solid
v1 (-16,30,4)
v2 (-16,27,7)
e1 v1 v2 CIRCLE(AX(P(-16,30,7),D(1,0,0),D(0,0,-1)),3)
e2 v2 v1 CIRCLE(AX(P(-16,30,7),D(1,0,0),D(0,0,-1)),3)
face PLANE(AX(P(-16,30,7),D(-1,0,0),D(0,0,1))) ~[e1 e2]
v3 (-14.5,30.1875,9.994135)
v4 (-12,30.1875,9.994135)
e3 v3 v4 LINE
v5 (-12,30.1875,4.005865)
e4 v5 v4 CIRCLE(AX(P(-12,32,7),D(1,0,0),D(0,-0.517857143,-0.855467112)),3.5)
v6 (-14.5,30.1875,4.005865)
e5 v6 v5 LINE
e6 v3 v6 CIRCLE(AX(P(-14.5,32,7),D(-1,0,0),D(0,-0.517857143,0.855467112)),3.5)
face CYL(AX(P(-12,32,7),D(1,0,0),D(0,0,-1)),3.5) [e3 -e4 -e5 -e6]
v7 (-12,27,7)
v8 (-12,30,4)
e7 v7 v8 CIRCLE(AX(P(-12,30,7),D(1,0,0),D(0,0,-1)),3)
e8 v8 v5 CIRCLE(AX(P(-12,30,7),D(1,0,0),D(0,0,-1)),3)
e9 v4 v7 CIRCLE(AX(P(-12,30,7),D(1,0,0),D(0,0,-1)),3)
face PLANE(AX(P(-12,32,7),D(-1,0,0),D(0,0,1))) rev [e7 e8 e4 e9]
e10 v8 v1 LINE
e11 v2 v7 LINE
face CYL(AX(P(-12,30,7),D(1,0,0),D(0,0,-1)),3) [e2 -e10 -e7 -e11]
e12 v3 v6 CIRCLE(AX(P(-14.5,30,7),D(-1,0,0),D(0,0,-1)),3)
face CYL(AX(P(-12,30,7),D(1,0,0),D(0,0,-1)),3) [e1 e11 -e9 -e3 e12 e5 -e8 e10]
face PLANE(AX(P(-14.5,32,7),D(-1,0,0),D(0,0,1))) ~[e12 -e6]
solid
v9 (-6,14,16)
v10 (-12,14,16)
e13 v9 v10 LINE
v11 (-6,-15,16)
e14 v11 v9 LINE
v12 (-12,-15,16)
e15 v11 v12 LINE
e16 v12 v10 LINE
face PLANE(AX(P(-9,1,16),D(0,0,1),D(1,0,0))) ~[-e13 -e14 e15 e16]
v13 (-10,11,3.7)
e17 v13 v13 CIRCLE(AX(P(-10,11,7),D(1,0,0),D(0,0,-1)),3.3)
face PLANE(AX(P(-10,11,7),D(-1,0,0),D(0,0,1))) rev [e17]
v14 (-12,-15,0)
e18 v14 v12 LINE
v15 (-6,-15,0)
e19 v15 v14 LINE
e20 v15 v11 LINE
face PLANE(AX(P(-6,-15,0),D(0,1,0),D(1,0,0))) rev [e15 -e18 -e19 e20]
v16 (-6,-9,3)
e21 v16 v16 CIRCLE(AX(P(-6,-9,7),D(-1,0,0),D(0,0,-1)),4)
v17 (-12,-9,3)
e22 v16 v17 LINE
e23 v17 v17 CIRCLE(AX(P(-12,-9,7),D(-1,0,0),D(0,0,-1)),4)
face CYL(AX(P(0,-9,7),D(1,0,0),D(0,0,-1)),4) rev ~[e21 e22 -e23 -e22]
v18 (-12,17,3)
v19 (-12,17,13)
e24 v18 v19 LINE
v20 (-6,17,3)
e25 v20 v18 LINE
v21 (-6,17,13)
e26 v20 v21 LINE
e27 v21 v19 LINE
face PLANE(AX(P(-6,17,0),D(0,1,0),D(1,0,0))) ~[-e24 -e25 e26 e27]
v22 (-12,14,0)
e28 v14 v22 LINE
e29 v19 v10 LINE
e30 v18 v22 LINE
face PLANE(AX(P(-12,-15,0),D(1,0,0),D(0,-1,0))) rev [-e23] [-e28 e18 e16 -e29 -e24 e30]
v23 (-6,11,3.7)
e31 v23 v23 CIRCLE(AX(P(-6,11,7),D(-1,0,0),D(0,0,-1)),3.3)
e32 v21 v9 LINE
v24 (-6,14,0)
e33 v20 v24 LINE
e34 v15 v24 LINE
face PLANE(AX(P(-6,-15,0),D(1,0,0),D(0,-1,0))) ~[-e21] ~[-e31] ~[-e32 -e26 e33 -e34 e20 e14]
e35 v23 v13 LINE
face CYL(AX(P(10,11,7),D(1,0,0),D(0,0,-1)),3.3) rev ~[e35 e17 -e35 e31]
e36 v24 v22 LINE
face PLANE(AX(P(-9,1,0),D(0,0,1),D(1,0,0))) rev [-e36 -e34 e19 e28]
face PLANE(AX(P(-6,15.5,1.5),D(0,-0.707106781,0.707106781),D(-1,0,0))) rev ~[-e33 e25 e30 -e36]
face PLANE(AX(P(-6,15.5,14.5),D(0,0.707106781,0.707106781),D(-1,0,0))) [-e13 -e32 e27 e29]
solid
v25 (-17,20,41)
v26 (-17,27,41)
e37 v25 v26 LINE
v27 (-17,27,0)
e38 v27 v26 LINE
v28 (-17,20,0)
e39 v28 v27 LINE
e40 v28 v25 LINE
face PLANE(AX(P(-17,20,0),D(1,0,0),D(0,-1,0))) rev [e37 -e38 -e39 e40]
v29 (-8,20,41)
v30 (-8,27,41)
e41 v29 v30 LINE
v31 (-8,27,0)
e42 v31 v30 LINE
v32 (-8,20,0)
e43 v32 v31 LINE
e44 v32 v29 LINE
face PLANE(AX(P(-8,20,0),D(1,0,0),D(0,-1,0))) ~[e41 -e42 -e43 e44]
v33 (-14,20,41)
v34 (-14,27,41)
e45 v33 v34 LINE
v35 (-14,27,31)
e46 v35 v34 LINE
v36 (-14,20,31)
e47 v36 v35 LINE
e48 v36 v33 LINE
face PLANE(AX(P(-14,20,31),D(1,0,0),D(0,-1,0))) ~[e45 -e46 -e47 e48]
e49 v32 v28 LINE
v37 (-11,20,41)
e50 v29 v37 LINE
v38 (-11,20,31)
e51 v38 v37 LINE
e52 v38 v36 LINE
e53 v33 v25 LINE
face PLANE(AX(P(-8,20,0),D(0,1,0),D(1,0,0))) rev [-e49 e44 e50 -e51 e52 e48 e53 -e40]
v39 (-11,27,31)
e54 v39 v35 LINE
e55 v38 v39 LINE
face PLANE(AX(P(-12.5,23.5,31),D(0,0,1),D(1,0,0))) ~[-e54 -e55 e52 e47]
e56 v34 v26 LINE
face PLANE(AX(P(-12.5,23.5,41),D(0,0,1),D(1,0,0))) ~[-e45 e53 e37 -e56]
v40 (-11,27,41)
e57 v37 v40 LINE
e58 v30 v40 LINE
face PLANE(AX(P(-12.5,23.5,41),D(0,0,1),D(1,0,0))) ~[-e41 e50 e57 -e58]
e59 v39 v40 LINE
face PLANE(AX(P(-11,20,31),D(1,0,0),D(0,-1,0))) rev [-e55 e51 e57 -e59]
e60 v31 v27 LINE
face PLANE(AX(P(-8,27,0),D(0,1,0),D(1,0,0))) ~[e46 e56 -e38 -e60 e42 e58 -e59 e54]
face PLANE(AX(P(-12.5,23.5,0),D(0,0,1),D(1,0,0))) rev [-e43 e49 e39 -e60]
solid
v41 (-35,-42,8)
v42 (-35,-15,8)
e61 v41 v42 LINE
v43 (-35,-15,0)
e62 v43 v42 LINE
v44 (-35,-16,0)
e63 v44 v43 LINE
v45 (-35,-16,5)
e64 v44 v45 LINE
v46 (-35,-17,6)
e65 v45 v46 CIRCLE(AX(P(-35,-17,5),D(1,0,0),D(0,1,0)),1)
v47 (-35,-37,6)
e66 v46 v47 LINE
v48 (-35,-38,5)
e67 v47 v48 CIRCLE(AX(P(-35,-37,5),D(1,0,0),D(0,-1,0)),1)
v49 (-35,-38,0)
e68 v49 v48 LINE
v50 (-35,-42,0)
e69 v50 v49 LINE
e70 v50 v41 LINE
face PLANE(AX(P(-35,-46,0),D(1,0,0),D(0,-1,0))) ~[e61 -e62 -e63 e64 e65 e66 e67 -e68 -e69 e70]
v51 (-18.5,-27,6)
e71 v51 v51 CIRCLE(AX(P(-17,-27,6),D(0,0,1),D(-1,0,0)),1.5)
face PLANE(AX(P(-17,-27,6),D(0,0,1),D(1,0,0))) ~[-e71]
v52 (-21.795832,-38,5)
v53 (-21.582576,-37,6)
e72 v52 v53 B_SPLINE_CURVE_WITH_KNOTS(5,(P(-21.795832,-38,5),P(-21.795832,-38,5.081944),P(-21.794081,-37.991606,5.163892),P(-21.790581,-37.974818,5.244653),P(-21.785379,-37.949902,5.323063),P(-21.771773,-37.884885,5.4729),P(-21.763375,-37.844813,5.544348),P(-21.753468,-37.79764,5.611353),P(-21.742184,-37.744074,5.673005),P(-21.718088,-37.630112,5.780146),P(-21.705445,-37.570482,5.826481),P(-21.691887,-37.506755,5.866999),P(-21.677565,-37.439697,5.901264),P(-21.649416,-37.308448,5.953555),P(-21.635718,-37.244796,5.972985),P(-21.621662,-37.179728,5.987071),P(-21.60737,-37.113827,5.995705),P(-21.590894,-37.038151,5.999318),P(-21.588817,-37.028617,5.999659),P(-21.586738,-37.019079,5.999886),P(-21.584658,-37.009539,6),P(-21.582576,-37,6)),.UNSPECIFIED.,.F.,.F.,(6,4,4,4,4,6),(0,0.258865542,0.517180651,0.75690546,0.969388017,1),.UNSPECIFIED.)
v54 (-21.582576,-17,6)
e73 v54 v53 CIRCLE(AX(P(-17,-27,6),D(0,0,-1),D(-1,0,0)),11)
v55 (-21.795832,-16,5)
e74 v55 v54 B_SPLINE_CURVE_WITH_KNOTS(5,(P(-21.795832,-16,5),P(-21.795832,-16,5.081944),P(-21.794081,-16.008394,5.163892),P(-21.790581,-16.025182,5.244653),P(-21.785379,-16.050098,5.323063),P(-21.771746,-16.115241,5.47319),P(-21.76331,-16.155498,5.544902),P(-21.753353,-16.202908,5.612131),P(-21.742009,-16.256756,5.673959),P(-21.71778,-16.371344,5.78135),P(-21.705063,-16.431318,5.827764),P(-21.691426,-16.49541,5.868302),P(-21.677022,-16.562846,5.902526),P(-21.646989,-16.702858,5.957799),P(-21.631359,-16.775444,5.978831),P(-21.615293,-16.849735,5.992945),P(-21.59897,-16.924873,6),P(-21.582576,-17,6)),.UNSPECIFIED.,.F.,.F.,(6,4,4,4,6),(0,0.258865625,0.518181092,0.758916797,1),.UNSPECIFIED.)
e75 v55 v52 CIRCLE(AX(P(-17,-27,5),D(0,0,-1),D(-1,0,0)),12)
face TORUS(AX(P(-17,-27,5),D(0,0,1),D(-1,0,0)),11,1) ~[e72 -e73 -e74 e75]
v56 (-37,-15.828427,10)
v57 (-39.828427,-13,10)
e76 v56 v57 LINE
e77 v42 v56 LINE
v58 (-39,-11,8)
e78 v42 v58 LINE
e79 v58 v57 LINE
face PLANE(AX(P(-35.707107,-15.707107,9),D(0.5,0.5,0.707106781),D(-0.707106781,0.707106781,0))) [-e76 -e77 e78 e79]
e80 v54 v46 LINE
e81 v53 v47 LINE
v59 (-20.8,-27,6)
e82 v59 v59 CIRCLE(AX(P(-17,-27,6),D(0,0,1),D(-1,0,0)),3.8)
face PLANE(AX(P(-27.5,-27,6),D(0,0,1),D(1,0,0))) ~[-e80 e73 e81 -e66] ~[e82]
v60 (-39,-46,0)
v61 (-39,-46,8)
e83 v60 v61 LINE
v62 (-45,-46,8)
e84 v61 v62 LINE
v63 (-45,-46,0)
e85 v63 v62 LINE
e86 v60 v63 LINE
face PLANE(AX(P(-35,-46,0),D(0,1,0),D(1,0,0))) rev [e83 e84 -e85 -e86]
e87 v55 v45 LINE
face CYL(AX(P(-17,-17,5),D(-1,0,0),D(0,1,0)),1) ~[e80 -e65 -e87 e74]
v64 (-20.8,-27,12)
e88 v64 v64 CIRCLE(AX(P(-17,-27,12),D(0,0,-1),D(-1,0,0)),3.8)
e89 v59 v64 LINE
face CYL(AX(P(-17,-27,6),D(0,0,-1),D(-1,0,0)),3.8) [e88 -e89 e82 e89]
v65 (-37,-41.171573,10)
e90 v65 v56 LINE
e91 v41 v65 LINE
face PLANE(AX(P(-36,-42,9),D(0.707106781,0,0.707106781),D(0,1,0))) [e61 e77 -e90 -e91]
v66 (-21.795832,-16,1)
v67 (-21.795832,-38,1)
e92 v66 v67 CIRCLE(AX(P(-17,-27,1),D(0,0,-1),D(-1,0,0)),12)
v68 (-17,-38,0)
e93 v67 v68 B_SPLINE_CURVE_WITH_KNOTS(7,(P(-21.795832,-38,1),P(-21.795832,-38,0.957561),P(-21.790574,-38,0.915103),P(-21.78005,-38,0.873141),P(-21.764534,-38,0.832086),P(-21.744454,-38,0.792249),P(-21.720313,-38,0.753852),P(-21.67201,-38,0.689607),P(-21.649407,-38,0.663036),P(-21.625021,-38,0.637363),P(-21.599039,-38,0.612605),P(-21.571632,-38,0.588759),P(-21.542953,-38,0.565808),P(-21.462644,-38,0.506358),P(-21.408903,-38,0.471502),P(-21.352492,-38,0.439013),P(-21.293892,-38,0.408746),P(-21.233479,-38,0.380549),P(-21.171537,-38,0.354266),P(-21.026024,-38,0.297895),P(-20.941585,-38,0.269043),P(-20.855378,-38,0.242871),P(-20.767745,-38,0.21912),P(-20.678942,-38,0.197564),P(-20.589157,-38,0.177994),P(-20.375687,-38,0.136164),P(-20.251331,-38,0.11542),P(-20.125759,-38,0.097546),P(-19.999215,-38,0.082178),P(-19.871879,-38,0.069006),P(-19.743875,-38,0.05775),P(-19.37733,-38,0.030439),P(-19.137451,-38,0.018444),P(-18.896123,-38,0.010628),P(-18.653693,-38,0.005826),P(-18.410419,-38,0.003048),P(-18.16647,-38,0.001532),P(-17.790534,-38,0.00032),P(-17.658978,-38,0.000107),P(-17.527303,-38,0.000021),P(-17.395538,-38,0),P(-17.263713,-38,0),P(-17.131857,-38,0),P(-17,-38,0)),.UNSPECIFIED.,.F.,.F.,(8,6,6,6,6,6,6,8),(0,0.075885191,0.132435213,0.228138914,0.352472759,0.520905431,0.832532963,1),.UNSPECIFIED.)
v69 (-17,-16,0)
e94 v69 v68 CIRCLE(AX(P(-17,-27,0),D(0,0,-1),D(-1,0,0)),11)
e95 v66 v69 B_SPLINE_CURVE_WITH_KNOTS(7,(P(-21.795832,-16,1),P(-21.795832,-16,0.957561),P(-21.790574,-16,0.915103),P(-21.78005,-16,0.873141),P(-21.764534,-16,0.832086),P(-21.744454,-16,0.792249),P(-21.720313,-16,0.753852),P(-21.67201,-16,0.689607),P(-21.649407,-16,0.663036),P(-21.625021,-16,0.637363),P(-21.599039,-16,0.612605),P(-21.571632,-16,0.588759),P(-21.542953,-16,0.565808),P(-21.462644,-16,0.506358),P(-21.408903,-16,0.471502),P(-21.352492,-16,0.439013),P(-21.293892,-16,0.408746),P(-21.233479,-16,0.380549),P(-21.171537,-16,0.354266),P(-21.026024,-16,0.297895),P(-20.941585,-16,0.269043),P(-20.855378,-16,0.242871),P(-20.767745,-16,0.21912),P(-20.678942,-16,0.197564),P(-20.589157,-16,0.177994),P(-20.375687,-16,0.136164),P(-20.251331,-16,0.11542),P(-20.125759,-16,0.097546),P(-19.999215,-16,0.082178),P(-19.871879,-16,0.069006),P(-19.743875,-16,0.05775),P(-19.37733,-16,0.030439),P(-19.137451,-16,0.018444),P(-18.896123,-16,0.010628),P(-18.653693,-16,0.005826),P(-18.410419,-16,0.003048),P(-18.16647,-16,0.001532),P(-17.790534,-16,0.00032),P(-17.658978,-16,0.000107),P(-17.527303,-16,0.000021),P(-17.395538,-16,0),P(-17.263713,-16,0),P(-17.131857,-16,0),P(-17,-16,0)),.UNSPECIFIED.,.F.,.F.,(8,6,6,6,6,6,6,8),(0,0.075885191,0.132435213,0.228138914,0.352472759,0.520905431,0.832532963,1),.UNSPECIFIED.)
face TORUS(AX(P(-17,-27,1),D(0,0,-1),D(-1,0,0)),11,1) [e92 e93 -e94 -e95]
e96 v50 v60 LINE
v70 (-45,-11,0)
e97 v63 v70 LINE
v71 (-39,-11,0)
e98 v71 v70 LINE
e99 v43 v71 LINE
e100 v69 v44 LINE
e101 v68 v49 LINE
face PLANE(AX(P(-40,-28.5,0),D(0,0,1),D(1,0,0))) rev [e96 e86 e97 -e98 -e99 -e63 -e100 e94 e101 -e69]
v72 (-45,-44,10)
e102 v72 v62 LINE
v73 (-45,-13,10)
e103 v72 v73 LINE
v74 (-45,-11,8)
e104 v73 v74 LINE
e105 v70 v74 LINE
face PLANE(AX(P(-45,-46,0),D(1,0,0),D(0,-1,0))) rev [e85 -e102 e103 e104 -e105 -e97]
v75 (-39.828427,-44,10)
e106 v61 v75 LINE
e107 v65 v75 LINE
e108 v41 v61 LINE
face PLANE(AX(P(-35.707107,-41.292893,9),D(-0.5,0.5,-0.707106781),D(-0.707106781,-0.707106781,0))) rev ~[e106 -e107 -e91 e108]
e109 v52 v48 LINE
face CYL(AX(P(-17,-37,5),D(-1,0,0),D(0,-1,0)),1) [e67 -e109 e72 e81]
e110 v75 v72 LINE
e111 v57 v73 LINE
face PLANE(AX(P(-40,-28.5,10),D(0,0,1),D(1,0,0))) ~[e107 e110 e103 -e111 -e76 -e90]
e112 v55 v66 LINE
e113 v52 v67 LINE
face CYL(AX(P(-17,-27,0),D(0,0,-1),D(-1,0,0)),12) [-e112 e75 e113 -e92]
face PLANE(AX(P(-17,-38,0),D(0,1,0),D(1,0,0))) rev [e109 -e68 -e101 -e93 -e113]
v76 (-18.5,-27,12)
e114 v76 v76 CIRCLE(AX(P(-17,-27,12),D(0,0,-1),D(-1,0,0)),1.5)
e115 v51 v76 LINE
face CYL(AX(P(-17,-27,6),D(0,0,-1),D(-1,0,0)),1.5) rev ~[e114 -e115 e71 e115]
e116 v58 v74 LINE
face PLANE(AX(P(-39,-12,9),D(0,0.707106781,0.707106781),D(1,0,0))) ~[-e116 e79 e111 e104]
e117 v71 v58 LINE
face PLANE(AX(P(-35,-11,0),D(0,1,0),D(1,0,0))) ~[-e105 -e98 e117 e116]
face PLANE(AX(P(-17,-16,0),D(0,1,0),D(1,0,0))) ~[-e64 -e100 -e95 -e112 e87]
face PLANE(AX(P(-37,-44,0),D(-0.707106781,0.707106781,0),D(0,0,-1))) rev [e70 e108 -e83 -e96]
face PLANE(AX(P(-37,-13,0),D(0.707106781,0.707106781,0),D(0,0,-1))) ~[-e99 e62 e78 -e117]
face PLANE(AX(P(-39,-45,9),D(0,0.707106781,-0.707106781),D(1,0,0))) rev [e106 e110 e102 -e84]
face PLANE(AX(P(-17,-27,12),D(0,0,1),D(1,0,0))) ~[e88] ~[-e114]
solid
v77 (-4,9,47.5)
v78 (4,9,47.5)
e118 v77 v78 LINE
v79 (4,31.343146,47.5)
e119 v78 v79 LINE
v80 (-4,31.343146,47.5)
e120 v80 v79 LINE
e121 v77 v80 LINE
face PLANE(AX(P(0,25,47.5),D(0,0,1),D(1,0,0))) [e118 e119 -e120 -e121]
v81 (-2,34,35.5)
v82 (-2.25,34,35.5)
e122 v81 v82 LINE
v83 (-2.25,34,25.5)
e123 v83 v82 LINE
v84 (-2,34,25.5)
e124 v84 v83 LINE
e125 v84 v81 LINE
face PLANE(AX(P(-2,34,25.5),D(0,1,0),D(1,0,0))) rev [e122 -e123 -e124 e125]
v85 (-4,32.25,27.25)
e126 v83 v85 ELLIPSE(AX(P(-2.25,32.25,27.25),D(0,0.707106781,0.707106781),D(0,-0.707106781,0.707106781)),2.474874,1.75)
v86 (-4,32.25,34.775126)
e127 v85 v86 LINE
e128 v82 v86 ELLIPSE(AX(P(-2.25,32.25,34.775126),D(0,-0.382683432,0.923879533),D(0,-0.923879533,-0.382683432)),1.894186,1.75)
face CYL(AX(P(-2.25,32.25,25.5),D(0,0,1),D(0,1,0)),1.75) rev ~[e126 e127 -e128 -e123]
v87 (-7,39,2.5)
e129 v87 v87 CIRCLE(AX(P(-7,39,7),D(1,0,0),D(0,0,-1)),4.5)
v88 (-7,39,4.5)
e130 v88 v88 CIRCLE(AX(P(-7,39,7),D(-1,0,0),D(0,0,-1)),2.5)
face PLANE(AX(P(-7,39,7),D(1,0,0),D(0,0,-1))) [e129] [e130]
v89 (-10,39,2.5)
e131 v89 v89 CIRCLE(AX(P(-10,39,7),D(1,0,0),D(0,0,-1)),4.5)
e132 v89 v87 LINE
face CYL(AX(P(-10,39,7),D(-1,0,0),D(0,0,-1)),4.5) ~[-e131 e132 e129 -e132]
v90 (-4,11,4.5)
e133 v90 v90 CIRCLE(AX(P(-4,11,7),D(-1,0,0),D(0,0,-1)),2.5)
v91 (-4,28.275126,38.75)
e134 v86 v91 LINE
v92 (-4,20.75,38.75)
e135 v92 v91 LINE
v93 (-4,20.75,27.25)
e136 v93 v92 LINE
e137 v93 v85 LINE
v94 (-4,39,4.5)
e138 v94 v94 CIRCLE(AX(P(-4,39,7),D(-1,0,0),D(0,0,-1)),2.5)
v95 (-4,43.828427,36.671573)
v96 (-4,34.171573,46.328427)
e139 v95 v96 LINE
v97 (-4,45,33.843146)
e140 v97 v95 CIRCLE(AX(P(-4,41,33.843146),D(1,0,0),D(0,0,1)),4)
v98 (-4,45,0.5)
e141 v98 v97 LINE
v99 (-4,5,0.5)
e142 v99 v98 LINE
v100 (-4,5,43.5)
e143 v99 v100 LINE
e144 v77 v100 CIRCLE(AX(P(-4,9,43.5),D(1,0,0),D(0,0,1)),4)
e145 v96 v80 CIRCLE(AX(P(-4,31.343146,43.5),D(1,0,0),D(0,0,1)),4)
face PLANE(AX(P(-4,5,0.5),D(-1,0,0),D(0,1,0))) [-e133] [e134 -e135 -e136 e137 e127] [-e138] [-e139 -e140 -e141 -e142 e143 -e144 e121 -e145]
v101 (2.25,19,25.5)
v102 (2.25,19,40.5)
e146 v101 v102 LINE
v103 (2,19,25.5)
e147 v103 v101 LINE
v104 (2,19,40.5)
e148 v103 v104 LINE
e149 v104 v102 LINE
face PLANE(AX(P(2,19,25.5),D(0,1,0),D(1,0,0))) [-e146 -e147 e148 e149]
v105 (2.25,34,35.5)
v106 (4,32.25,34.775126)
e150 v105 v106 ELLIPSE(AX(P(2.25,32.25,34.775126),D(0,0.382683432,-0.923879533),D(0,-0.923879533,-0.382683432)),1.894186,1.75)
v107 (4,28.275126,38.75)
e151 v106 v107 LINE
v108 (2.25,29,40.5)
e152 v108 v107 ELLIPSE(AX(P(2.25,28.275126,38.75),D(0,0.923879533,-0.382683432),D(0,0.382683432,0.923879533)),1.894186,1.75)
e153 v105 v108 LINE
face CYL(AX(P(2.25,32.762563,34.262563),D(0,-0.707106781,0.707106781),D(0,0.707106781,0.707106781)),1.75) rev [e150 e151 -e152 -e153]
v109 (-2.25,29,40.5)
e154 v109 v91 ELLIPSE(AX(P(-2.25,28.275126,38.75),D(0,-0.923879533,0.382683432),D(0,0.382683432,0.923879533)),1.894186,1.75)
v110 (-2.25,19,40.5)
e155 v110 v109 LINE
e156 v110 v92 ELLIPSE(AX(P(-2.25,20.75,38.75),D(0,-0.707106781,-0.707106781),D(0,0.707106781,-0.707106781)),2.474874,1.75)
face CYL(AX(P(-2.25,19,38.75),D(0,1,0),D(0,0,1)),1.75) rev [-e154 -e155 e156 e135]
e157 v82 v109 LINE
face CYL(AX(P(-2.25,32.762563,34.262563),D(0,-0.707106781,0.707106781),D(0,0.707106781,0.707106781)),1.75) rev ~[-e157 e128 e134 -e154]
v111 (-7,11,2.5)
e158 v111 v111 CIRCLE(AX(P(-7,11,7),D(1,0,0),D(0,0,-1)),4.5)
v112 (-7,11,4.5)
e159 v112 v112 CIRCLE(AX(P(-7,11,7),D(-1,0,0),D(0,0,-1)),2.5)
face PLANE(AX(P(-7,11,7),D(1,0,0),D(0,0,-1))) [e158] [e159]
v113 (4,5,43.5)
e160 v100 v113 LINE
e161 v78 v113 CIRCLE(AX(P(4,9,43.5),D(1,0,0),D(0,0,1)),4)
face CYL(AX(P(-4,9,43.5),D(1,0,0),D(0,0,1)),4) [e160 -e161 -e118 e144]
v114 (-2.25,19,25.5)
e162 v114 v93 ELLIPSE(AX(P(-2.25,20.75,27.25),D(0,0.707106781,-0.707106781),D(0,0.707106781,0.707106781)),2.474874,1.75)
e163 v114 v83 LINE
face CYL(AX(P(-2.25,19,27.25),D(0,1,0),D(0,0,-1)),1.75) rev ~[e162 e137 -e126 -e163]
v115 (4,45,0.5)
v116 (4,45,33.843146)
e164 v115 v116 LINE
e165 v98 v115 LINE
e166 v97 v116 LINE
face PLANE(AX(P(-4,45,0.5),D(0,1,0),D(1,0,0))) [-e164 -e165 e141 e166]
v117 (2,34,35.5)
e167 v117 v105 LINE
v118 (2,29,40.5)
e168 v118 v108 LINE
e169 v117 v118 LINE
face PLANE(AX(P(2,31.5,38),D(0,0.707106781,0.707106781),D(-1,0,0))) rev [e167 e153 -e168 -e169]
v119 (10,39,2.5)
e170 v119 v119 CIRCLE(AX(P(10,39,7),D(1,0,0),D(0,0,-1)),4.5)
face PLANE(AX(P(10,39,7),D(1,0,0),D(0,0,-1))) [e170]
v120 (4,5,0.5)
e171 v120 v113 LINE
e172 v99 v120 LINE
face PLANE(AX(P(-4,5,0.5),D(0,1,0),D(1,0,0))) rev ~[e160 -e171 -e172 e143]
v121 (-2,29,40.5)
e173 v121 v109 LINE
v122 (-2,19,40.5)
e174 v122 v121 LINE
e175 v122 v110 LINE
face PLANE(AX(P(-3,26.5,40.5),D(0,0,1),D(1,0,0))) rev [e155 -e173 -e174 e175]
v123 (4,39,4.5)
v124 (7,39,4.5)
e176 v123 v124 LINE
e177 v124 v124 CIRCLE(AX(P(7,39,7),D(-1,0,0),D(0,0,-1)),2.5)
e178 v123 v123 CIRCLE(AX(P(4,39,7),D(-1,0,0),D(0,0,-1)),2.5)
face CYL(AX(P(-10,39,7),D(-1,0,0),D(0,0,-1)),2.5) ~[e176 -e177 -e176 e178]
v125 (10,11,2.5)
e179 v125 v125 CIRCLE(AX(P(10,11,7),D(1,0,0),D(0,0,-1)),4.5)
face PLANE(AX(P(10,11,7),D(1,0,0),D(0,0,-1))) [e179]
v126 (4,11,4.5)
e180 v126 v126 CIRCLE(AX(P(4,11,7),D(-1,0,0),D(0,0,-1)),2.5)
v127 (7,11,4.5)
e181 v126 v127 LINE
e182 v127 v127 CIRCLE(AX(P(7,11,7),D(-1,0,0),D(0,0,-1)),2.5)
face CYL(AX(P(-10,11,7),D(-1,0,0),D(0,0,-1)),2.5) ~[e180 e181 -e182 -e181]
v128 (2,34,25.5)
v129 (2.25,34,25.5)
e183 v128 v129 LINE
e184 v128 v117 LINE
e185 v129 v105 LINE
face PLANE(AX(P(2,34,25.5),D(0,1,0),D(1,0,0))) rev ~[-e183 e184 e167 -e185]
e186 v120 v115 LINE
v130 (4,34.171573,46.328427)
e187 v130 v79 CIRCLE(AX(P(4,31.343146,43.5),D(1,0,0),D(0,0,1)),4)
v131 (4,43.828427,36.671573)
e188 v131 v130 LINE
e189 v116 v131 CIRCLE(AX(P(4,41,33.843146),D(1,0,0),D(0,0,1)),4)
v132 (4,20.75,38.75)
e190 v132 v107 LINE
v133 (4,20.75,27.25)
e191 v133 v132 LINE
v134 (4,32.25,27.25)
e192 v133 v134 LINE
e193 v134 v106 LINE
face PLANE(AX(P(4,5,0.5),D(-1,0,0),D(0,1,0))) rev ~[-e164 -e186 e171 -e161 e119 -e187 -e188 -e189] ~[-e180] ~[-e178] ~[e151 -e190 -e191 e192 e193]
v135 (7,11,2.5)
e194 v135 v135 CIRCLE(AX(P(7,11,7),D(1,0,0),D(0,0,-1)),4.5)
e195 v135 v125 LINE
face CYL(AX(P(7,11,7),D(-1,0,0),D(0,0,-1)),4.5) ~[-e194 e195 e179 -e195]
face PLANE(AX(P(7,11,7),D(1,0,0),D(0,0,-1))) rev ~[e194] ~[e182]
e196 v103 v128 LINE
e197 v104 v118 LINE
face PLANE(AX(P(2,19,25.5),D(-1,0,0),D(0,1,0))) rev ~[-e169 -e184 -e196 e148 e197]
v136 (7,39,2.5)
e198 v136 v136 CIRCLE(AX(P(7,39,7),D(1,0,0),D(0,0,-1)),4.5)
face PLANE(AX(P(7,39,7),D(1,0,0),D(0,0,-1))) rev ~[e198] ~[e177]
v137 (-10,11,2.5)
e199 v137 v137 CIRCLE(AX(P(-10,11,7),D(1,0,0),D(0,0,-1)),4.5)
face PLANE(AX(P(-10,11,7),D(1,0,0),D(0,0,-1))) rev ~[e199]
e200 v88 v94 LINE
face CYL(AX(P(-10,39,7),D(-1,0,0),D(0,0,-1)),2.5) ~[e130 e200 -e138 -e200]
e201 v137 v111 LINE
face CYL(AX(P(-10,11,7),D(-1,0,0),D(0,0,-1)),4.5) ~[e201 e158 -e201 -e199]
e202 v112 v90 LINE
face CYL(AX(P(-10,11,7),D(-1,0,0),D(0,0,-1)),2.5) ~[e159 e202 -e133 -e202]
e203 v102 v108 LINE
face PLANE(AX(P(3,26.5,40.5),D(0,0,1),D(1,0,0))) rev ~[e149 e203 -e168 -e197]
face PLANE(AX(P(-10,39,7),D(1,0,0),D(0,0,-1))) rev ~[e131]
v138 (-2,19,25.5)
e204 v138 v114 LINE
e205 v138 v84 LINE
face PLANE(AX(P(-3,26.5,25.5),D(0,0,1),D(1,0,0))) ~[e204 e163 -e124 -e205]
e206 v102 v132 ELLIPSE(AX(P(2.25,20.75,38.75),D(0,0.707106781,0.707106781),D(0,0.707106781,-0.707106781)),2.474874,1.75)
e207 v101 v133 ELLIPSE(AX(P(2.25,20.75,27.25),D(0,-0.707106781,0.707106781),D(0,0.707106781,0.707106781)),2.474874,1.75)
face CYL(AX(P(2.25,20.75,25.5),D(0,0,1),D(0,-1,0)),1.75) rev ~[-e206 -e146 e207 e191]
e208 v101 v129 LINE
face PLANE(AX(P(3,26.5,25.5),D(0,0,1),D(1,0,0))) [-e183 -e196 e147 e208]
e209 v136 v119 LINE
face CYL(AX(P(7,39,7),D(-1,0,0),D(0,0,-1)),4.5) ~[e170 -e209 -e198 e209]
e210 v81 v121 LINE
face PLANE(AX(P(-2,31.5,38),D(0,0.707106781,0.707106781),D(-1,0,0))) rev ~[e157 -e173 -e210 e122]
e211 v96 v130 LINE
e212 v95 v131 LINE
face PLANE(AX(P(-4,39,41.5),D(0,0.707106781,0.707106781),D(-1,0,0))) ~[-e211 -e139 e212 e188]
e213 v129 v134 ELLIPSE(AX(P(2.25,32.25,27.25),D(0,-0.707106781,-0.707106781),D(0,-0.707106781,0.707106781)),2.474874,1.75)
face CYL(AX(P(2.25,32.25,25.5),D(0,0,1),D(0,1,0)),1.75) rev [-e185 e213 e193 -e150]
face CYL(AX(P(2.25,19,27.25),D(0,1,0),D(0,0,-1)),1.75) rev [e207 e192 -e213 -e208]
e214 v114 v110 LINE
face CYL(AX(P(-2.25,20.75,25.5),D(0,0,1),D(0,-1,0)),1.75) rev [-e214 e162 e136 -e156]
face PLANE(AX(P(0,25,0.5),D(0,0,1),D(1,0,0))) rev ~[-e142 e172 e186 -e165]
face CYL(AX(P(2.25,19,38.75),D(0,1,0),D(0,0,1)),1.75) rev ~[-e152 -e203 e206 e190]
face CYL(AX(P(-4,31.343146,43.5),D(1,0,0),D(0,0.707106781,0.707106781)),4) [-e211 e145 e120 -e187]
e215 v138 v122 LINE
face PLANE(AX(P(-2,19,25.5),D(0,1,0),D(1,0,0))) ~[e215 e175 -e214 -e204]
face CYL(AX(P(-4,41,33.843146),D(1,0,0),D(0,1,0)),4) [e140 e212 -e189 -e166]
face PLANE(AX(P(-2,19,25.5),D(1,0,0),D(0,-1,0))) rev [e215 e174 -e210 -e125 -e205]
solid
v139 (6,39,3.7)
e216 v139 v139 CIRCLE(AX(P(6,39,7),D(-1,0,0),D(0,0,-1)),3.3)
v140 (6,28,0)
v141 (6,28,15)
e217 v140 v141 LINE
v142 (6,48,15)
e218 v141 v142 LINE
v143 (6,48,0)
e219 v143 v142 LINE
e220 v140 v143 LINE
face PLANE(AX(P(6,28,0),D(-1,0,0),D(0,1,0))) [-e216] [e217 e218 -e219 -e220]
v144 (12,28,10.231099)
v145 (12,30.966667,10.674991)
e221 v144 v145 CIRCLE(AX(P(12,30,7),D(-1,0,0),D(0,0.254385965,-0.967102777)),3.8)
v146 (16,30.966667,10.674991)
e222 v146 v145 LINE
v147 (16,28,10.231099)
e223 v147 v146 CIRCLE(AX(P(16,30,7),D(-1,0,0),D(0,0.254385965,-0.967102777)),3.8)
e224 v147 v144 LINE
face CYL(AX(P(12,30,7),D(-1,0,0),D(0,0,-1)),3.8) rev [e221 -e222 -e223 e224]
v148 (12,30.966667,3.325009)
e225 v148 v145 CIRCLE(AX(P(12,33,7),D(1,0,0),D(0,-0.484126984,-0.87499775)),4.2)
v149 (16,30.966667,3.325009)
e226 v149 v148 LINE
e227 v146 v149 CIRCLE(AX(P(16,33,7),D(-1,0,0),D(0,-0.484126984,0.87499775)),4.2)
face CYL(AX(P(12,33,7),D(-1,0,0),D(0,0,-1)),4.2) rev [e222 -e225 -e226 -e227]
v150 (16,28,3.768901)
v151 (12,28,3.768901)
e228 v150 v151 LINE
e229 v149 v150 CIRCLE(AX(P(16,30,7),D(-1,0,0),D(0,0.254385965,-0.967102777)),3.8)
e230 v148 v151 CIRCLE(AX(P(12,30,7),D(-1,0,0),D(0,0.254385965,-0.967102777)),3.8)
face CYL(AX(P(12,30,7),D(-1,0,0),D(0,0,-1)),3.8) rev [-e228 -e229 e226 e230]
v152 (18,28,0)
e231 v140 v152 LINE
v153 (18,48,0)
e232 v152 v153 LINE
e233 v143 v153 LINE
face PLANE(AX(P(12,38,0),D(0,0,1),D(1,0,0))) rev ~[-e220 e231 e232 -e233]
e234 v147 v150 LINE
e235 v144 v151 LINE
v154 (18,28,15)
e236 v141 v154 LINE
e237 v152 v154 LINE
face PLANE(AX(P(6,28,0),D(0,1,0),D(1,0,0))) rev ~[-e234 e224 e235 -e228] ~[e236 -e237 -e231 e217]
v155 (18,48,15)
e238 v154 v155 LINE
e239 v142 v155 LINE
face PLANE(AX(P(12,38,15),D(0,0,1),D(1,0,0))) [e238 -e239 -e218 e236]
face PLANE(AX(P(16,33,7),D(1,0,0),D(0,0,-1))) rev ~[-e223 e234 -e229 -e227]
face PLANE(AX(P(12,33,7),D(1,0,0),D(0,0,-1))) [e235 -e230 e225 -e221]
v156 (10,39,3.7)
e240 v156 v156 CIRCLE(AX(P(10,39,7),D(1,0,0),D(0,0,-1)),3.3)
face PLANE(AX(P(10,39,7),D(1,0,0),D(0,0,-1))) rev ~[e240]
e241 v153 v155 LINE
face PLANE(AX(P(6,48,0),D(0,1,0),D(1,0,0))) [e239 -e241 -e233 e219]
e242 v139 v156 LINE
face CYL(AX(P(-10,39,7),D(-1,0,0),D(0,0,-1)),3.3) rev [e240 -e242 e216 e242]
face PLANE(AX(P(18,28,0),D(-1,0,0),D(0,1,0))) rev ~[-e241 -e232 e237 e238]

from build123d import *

# Parameters (mm, degrees)
CYLINDER001_R     = 4.5
CYLINDER001_DEPTH = 3
CYLINDER002_R     = 4.5
CYLINDER002_DEPTH = 3
CYLINDER_R        = 2.5
CYLINDER_DEPTH    = 20
CYLINDER009_R     = 4.5
CYLINDER009_DEPTH = 3
CYLINDER008_R     = 4.5
CYLINDER008_DEPTH = 3
CYLINDER005_R     = 2.5
CYLINDER005_DEPTH = 20
BOX001_W          = 2
BOX001_H          = 15
BOX001_DEPTH      = 15
CHAMFER001_SIZE   = 5
FILLET001_R       = 1.75
BOX_W             = 8
BOX_H             = 40
BOX_DEPTH         = 47
CHAMFER_SIZE      = 12
FILLET_R          = 4
CYLINDER010_R     = 4
CYLINDER010_DEPTH = 20
CYLINDER004_R     = 5.3
CYLINDER004_DEPTH = 4
CYLINDER003_R     = 3.3
CYLINDER003_DEPTH = 20
BOX002_W          = 6
BOX002_H          = 32
BOX002_DEPTH      = 16
CHAMFER002_SIZE   = 3
CYLINDER014_R     = 4.2
CYLINDER014_DEPTH = 4
CYLINDER013_R     = 3.8
CYLINDER013_DEPTH = 4
CYLINDER006_R     = 5.3
CYLINDER006_DEPTH = 4
CYLINDER007_R     = 3.3
CYLINDER007_DEPTH = 20
BOX003_W          = 12
BOX003_H          = 20
BOX003_DEPTH      = 15
CYLINDER011_R     = 3
CYLINDER011_DEPTH = 4
CYLINDER012_R     = 3.5
CYLINDER012_DEPTH = 2.5
BOX005_W          = 3
BOX005_H          = 7
BOX005_DEPTH      = 10
BOX004_W          = 9
BOX004_H          = 7
BOX004_DEPTH      = 41
CYLINDER015_R     = 12
CYLINDER015_DEPTH = 6
FILLET002_R       = 1
BOX006_W          = 21
BOX006_H          = 22
BOX006_DEPTH      = 6
FILLET003_R       = 1
BOX007_W          = 10
BOX007_H          = 35
BOX007_DEPTH      = 10
CHAMFER003_SIZE   = 4
CHAMFER004_SIZE   = 2
CYLINDER017_R     = 1.5
CYLINDER017_DEPTH = 6
CYLINDER016_R     = 3.8
CYLINDER016_DEPTH = 6


with BuildPart() as cylinder001:
    # Cylinder001 → Cylinder001 (new body)
    with BuildSketch(Plane(origin=(-10, 11, 7), x_dir=(0, 0, -1), z_dir=(1, 0, 0))):
        Circle(CYLINDER001_R)
    extrude(amount=CYLINDER001_DEPTH)


with BuildPart() as cylinder002:
    # Cylinder002 → Cylinder002 (new body)
    with BuildSketch(Plane(origin=(7, 11, 7), x_dir=(0, 0, -1), z_dir=(1, 0, 0))):
        Circle(CYLINDER002_R)
    extrude(amount=CYLINDER002_DEPTH)


with BuildPart() as fusion:
    # Cylinder → Cylinder (new body)
    with BuildSketch(Plane(origin=(-10, 11, 7), x_dir=(0, 0, -1), z_dir=(1, 0, 0))):
        Circle(CYLINDER_R)
    extrude(amount=CYLINDER_DEPTH)

    # Fusion: union Cylinder001, Cylinder002
    add(cylinder001.part)
    add(cylinder002.part)


with BuildPart() as cylinder009:
    # Cylinder009 → Cylinder009 (new body)
    with BuildSketch(Plane(origin=(-10, 11, 7), x_dir=(0, 0, -1), z_dir=(1, 0, 0))):
        Circle(CYLINDER009_R)
    extrude(amount=CYLINDER009_DEPTH)


with BuildPart() as cylinder008:
    # Cylinder008 → Cylinder008 (new body)
    with BuildSketch(Plane(origin=(7, 11, 7), x_dir=(0, 0, -1), z_dir=(1, 0, 0))):
        Circle(CYLINDER008_R)
    extrude(amount=CYLINDER008_DEPTH)


with BuildPart() as fusion002:
    # Cylinder005 → Cylinder005 (new body)
    with BuildSketch(Plane(origin=(-10, 11, 7), x_dir=(0, 0, -1), z_dir=(1, 0, 0))):
        Circle(CYLINDER005_R)
    extrude(amount=CYLINDER005_DEPTH)

    # Fusion002: union Cylinder009, Cylinder008
    add(cylinder009.part)
    add(cylinder008.part)


with BuildPart() as fusion002_1:
    # Fusion002 placement: moved
    add(fusion002.part.moved(Location((0, 28, 0))))


with BuildPart() as fillet001:
    # Box001 → Box001 (new body)
    with BuildSketch(Plane.XY.offset(0.5)):
        with Locations((1, 7.5)):
            Rectangle(BOX001_W, BOX001_H)
    extrude(amount=BOX001_DEPTH)

    # Chamfer001
    chamfer001_edges = [fillet001.edges().sort_by_distance(p)[0] for p in [
        (1, 15, 15.5),
    ]]
    chamfer(chamfer001_edges, length=CHAMFER001_SIZE)

    # Fillet001
    fillet001_edges = [fillet001.edges().sort_by_distance(p)[0] for p in [
        (2, 5, 15.5),
        (2, 12.5, 13),
        (2, 0, 8),
        (2, 15, 5.5),
        (2, 7.5, 0.5),
    ]]
    fillet(fillet001_edges, radius=FILLET001_R)


with BuildPart() as fillet001_1:
    # Fillet001 placement: moved
    add(fillet001.part.moved(Location((2, 19, 25))))


with BuildPart() as part_mirroring:
    # Part__Mirroring: instance of Fillet001
    add(fillet001_1.part.mirror(Plane(origin=(0, 0, 0), x_dir=(0, -1, 0), z_dir=(1, 0, 0))))


with BuildPart() as fusion004:
    # Box → Box (new body)
    with BuildSketch(Plane(origin=(-4, 5, 0.5), x_dir=(1, 0, 0), z_dir=(0, 0, 1))):
        with Locations((4, 20)):
            Rectangle(BOX_W, BOX_H)
    extrude(amount=BOX_DEPTH)

    # Chamfer
    chamfer_edges = [fusion004.edges().sort_by_distance(p)[0] for p in [
        (0, 45, 47.5),
    ]]
    chamfer(chamfer_edges, length=CHAMFER_SIZE)

    # Fillet
    fillet_edges = [fusion004.edges().sort_by_distance(p)[0] for p in [
        (0, 33, 47.5),
        (0, 5, 47.5),
        (0, 45, 35.5),
    ]]
    fillet(fillet_edges, radius=FILLET_R)

    # Cut: cut Fillet001
    add(fillet001_1.part, mode=Mode.SUBTRACT)

    # Cut001: cut Part__Mirroring
    add(part_mirroring.part, mode=Mode.SUBTRACT)

    # Fusion004: union Fusion, Fusion002
    add(fusion.part)
    add(fusion002_1.part)


with BuildPart() as cylinder010:
    # Cylinder010 → Cylinder010 (new body)
    with BuildSketch(Plane(origin=(0, -9, 7), x_dir=(0, 0, -1), z_dir=(1, 0, 0))):
        Circle(CYLINDER010_R)
    extrude(amount=CYLINDER010_DEPTH)


with BuildPart() as cylinder004:
    # Cylinder004 → Cylinder004 (new body)
    with BuildSketch(Plane(origin=(-10, 11, 7), x_dir=(0, 0, -1), z_dir=(1, 0, 0))):
        Circle(CYLINDER004_R)
    extrude(amount=CYLINDER004_DEPTH)


with BuildPart() as fusion001:
    # Cylinder003 → Cylinder003 (new body)
    with BuildSketch(Plane(origin=(-10, 11, 7), x_dir=(0, 0, -1), z_dir=(1, 0, 0))):
        Circle(CYLINDER003_R)
    extrude(amount=CYLINDER003_DEPTH)

    # Fusion001: union Cylinder004
    add(cylinder004.part)


with BuildPart() as cut005:
    # Box002 → Box002 (new body)
    with BuildSketch(Plane(origin=(6, -15, 0), x_dir=(1, 0, 0), z_dir=(0, 0, 1))):
        with Locations((3, 16)):
            Rectangle(BOX002_W, BOX002_H)
    extrude(amount=BOX002_DEPTH)

    # Chamfer002
    chamfer002_edges = [cut005.edges().sort_by_distance(p)[0] for p in [
        (9, 17, 0),
        (9, 17, 16),
    ]]
    chamfer(chamfer002_edges, length=CHAMFER002_SIZE)

    # Cut004: cut Fusion001
    add(fusion001.part, mode=Mode.SUBTRACT)

    # Cut005: cut Cylinder010
    add(cylinder010.part, mode=Mode.SUBTRACT)


with BuildPart() as part_mirroring001:
    # Part__Mirroring001: instance of Cut005
    add(cut005.part.mirror(Plane(origin=(0, 0, 0), x_dir=(0, -1, 0), z_dir=(1, 0, 0))))


with BuildPart() as cylinder014:
    # Cylinder014 → Cylinder014 (new body)
    with BuildSketch(Plane(origin=(12, 33, 7), x_dir=(0, 0, -1), z_dir=(1, 0, 0))):
        Circle(CYLINDER014_R)
    extrude(amount=CYLINDER014_DEPTH)


with BuildPart() as fusion005:
    # Cylinder013 → Cylinder013 (new body)
    with BuildSketch(Plane(origin=(12, 30, 7), x_dir=(0, 0, -1), z_dir=(1, 0, 0))):
        Circle(CYLINDER013_R)
    extrude(amount=CYLINDER013_DEPTH)

    # Fusion005: union Cylinder014
    add(cylinder014.part)


with BuildPart() as cylinder006:
    # Cylinder006 → Cylinder006 (new body)
    with BuildSketch(Plane(origin=(-10, 11, 7), x_dir=(0, 0, -1), z_dir=(1, 0, 0))):
        Circle(CYLINDER006_R)
    extrude(amount=CYLINDER006_DEPTH)


with BuildPart() as fusion003:
    # Cylinder007 → Cylinder007 (new body)
    with BuildSketch(Plane(origin=(-10, 11, 7), x_dir=(0, 0, -1), z_dir=(1, 0, 0))):
        Circle(CYLINDER007_R)
    extrude(amount=CYLINDER007_DEPTH)

    # Fusion003: union Cylinder006
    add(cylinder006.part)


with BuildPart() as fusion003_1:
    # Fusion003 placement: moved
    add(fusion003.part.moved(Location((0, 28, 0))))


with BuildPart() as cut006:
    # Box003 → Box003 (new body)
    with BuildSketch(Plane(origin=(6, 28, 0), x_dir=(1, 0, 0), z_dir=(0, 0, 1))):
        with Locations((6, 10)):
            Rectangle(BOX003_W, BOX003_H)
    extrude(amount=BOX003_DEPTH)

    # Cut003: cut Fusion003
    add(fusion003_1.part, mode=Mode.SUBTRACT)

    # Cut006: cut Fusion005
    add(fusion005.part, mode=Mode.SUBTRACT)


with BuildPart() as cylinder011:
    # Cylinder011 → Cylinder011 (new body)
    with BuildSketch(Plane(origin=(12, 30, 7), x_dir=(0, 0, -1), z_dir=(1, 0, 0))):
        Circle(CYLINDER011_R)
    extrude(amount=CYLINDER011_DEPTH)


with BuildPart() as cylinder012:
    # Cylinder012 → Cylinder012 (new body)
    with BuildSketch(Plane(origin=(12, 32, 7), x_dir=(0, 0, -1), z_dir=(1, 0, 0))):
        Circle(CYLINDER012_R)
    extrude(amount=CYLINDER012_DEPTH)


with BuildPart() as cube005:
    # Box005 → Box005 (new body)
    with BuildSketch(Plane(origin=(11, 20, 31), x_dir=(1, 0, 0), z_dir=(0, 0, 1))):
        with Locations((1.5, 3.5)):
            Rectangle(BOX005_W, BOX005_H)
    extrude(amount=BOX005_DEPTH)


with BuildPart() as fusion006:
    # Box004 → Box004 (new body)
    with BuildSketch(Plane(origin=(8, 20, 0), x_dir=(1, 0, 0), z_dir=(0, 0, 1))):
        with Locations((4.5, 3.5)):
            Rectangle(BOX004_W, BOX004_H)
    extrude(amount=BOX004_DEPTH)

    # Cut002: cut Cube005
    add(cube005.part, mode=Mode.SUBTRACT)

    # Fusion006: union Cylinder011, Cylinder012
    add(cylinder011.part)
    add(cylinder012.part)


with BuildPart() as part_mirroring002:
    # Part__Mirroring002: instance of Fusion006
    add(fusion006.part.mirror(Plane(origin=(0, 0, 0), x_dir=(0, -1, 0), z_dir=(1, 0, 0))))


with BuildPart() as fillet002:
    # Cylinder015 → Cylinder015 (new body)
    with BuildSketch(Plane(origin=(17, -27, 0), x_dir=(1, 0, 0), z_dir=(0, 0, 1))):
        Circle(CYLINDER015_R)
    extrude(amount=CYLINDER015_DEPTH)

    # Fillet002
    fillet002_edges = [fillet002.edges().sort_by_distance(p)[0] for p in [
        (5, -27, 6),
        (5, -27, 0),
    ]]
    fillet(fillet002_edges, radius=FILLET002_R)


with BuildPart() as fillet003:
    # Box006 → Box006 (new body)
    with BuildSketch(Plane(origin=(17, -38, 0), x_dir=(1, 0, 0), z_dir=(0, 0, 1))):
        with Locations((10.5, 11)):
            Rectangle(BOX006_W, BOX006_H)
    extrude(amount=BOX006_DEPTH)

    # Fillet003
    fillet003_edges = [fillet003.edges().sort_by_distance(p)[0] for p in [
        (27.5, -38, 6),
        (27.5, -16, 6),
    ]]
    fillet(fillet003_edges, radius=FILLET003_R)


with BuildPart() as chamfer004:
    # Box007 → Box007 (new body)
    with BuildSketch(Plane(origin=(35, -46, 0), x_dir=(1, 0, 0), z_dir=(0, 0, 1))):
        with Locations((5, 17.5)):
            Rectangle(BOX007_W, BOX007_H)
    extrude(amount=BOX007_DEPTH)

    # Chamfer003
    chamfer003_edges = [chamfer004.edges().sort_by_distance(p)[0] for p in [
        (35, -46, 5),
        (35, -11, 5),
    ]]
    chamfer(chamfer003_edges, length=CHAMFER003_SIZE)

    # Chamfer004
    chamfer004_edges = [chamfer004.edges().sort_by_distance(p)[0] for p in [
        (35, -28.5, 10),
        (37, -44, 10),
        (37, -13, 10),
        (42, -46, 10),
        (42, -11, 10),
    ]]
    chamfer(chamfer004_edges, length=CHAMFER004_SIZE)


with BuildPart() as cylinder017:
    # Cylinder017 → Cylinder017 (new body)
    with BuildSketch(Plane(origin=(17, -27, 6), x_dir=(1, 0, 0), z_dir=(0, 0, 1))):
        Circle(CYLINDER017_R)
    extrude(amount=CYLINDER017_DEPTH)


with BuildPart() as fusion007:
    # Cylinder016 → Cylinder016 (new body)
    with BuildSketch(Plane(origin=(17, -27, 6), x_dir=(1, 0, 0), z_dir=(0, 0, 1))):
        Circle(CYLINDER016_R)
    extrude(amount=CYLINDER016_DEPTH)

    # Cut007: cut Cylinder017
    add(cylinder017.part, mode=Mode.SUBTRACT)

    # Fusion007: union Fillet002, Fillet003, Chamfer004
    add(fillet002.part)
    add(fillet003.part)
    add(chamfer004.part)


with BuildPart() as part_mirroring003:
    # Part__Mirroring003: instance of Fusion007
    add(fusion007.part.mirror(Plane(origin=(0, 0, 0), x_dir=(0, -1, 0), z_dir=(1, 0, 0))))


solid = Compound([fusion004.part, part_mirroring001.part, cut006.part, part_mirroring002.part, part_mirroring003.part])
